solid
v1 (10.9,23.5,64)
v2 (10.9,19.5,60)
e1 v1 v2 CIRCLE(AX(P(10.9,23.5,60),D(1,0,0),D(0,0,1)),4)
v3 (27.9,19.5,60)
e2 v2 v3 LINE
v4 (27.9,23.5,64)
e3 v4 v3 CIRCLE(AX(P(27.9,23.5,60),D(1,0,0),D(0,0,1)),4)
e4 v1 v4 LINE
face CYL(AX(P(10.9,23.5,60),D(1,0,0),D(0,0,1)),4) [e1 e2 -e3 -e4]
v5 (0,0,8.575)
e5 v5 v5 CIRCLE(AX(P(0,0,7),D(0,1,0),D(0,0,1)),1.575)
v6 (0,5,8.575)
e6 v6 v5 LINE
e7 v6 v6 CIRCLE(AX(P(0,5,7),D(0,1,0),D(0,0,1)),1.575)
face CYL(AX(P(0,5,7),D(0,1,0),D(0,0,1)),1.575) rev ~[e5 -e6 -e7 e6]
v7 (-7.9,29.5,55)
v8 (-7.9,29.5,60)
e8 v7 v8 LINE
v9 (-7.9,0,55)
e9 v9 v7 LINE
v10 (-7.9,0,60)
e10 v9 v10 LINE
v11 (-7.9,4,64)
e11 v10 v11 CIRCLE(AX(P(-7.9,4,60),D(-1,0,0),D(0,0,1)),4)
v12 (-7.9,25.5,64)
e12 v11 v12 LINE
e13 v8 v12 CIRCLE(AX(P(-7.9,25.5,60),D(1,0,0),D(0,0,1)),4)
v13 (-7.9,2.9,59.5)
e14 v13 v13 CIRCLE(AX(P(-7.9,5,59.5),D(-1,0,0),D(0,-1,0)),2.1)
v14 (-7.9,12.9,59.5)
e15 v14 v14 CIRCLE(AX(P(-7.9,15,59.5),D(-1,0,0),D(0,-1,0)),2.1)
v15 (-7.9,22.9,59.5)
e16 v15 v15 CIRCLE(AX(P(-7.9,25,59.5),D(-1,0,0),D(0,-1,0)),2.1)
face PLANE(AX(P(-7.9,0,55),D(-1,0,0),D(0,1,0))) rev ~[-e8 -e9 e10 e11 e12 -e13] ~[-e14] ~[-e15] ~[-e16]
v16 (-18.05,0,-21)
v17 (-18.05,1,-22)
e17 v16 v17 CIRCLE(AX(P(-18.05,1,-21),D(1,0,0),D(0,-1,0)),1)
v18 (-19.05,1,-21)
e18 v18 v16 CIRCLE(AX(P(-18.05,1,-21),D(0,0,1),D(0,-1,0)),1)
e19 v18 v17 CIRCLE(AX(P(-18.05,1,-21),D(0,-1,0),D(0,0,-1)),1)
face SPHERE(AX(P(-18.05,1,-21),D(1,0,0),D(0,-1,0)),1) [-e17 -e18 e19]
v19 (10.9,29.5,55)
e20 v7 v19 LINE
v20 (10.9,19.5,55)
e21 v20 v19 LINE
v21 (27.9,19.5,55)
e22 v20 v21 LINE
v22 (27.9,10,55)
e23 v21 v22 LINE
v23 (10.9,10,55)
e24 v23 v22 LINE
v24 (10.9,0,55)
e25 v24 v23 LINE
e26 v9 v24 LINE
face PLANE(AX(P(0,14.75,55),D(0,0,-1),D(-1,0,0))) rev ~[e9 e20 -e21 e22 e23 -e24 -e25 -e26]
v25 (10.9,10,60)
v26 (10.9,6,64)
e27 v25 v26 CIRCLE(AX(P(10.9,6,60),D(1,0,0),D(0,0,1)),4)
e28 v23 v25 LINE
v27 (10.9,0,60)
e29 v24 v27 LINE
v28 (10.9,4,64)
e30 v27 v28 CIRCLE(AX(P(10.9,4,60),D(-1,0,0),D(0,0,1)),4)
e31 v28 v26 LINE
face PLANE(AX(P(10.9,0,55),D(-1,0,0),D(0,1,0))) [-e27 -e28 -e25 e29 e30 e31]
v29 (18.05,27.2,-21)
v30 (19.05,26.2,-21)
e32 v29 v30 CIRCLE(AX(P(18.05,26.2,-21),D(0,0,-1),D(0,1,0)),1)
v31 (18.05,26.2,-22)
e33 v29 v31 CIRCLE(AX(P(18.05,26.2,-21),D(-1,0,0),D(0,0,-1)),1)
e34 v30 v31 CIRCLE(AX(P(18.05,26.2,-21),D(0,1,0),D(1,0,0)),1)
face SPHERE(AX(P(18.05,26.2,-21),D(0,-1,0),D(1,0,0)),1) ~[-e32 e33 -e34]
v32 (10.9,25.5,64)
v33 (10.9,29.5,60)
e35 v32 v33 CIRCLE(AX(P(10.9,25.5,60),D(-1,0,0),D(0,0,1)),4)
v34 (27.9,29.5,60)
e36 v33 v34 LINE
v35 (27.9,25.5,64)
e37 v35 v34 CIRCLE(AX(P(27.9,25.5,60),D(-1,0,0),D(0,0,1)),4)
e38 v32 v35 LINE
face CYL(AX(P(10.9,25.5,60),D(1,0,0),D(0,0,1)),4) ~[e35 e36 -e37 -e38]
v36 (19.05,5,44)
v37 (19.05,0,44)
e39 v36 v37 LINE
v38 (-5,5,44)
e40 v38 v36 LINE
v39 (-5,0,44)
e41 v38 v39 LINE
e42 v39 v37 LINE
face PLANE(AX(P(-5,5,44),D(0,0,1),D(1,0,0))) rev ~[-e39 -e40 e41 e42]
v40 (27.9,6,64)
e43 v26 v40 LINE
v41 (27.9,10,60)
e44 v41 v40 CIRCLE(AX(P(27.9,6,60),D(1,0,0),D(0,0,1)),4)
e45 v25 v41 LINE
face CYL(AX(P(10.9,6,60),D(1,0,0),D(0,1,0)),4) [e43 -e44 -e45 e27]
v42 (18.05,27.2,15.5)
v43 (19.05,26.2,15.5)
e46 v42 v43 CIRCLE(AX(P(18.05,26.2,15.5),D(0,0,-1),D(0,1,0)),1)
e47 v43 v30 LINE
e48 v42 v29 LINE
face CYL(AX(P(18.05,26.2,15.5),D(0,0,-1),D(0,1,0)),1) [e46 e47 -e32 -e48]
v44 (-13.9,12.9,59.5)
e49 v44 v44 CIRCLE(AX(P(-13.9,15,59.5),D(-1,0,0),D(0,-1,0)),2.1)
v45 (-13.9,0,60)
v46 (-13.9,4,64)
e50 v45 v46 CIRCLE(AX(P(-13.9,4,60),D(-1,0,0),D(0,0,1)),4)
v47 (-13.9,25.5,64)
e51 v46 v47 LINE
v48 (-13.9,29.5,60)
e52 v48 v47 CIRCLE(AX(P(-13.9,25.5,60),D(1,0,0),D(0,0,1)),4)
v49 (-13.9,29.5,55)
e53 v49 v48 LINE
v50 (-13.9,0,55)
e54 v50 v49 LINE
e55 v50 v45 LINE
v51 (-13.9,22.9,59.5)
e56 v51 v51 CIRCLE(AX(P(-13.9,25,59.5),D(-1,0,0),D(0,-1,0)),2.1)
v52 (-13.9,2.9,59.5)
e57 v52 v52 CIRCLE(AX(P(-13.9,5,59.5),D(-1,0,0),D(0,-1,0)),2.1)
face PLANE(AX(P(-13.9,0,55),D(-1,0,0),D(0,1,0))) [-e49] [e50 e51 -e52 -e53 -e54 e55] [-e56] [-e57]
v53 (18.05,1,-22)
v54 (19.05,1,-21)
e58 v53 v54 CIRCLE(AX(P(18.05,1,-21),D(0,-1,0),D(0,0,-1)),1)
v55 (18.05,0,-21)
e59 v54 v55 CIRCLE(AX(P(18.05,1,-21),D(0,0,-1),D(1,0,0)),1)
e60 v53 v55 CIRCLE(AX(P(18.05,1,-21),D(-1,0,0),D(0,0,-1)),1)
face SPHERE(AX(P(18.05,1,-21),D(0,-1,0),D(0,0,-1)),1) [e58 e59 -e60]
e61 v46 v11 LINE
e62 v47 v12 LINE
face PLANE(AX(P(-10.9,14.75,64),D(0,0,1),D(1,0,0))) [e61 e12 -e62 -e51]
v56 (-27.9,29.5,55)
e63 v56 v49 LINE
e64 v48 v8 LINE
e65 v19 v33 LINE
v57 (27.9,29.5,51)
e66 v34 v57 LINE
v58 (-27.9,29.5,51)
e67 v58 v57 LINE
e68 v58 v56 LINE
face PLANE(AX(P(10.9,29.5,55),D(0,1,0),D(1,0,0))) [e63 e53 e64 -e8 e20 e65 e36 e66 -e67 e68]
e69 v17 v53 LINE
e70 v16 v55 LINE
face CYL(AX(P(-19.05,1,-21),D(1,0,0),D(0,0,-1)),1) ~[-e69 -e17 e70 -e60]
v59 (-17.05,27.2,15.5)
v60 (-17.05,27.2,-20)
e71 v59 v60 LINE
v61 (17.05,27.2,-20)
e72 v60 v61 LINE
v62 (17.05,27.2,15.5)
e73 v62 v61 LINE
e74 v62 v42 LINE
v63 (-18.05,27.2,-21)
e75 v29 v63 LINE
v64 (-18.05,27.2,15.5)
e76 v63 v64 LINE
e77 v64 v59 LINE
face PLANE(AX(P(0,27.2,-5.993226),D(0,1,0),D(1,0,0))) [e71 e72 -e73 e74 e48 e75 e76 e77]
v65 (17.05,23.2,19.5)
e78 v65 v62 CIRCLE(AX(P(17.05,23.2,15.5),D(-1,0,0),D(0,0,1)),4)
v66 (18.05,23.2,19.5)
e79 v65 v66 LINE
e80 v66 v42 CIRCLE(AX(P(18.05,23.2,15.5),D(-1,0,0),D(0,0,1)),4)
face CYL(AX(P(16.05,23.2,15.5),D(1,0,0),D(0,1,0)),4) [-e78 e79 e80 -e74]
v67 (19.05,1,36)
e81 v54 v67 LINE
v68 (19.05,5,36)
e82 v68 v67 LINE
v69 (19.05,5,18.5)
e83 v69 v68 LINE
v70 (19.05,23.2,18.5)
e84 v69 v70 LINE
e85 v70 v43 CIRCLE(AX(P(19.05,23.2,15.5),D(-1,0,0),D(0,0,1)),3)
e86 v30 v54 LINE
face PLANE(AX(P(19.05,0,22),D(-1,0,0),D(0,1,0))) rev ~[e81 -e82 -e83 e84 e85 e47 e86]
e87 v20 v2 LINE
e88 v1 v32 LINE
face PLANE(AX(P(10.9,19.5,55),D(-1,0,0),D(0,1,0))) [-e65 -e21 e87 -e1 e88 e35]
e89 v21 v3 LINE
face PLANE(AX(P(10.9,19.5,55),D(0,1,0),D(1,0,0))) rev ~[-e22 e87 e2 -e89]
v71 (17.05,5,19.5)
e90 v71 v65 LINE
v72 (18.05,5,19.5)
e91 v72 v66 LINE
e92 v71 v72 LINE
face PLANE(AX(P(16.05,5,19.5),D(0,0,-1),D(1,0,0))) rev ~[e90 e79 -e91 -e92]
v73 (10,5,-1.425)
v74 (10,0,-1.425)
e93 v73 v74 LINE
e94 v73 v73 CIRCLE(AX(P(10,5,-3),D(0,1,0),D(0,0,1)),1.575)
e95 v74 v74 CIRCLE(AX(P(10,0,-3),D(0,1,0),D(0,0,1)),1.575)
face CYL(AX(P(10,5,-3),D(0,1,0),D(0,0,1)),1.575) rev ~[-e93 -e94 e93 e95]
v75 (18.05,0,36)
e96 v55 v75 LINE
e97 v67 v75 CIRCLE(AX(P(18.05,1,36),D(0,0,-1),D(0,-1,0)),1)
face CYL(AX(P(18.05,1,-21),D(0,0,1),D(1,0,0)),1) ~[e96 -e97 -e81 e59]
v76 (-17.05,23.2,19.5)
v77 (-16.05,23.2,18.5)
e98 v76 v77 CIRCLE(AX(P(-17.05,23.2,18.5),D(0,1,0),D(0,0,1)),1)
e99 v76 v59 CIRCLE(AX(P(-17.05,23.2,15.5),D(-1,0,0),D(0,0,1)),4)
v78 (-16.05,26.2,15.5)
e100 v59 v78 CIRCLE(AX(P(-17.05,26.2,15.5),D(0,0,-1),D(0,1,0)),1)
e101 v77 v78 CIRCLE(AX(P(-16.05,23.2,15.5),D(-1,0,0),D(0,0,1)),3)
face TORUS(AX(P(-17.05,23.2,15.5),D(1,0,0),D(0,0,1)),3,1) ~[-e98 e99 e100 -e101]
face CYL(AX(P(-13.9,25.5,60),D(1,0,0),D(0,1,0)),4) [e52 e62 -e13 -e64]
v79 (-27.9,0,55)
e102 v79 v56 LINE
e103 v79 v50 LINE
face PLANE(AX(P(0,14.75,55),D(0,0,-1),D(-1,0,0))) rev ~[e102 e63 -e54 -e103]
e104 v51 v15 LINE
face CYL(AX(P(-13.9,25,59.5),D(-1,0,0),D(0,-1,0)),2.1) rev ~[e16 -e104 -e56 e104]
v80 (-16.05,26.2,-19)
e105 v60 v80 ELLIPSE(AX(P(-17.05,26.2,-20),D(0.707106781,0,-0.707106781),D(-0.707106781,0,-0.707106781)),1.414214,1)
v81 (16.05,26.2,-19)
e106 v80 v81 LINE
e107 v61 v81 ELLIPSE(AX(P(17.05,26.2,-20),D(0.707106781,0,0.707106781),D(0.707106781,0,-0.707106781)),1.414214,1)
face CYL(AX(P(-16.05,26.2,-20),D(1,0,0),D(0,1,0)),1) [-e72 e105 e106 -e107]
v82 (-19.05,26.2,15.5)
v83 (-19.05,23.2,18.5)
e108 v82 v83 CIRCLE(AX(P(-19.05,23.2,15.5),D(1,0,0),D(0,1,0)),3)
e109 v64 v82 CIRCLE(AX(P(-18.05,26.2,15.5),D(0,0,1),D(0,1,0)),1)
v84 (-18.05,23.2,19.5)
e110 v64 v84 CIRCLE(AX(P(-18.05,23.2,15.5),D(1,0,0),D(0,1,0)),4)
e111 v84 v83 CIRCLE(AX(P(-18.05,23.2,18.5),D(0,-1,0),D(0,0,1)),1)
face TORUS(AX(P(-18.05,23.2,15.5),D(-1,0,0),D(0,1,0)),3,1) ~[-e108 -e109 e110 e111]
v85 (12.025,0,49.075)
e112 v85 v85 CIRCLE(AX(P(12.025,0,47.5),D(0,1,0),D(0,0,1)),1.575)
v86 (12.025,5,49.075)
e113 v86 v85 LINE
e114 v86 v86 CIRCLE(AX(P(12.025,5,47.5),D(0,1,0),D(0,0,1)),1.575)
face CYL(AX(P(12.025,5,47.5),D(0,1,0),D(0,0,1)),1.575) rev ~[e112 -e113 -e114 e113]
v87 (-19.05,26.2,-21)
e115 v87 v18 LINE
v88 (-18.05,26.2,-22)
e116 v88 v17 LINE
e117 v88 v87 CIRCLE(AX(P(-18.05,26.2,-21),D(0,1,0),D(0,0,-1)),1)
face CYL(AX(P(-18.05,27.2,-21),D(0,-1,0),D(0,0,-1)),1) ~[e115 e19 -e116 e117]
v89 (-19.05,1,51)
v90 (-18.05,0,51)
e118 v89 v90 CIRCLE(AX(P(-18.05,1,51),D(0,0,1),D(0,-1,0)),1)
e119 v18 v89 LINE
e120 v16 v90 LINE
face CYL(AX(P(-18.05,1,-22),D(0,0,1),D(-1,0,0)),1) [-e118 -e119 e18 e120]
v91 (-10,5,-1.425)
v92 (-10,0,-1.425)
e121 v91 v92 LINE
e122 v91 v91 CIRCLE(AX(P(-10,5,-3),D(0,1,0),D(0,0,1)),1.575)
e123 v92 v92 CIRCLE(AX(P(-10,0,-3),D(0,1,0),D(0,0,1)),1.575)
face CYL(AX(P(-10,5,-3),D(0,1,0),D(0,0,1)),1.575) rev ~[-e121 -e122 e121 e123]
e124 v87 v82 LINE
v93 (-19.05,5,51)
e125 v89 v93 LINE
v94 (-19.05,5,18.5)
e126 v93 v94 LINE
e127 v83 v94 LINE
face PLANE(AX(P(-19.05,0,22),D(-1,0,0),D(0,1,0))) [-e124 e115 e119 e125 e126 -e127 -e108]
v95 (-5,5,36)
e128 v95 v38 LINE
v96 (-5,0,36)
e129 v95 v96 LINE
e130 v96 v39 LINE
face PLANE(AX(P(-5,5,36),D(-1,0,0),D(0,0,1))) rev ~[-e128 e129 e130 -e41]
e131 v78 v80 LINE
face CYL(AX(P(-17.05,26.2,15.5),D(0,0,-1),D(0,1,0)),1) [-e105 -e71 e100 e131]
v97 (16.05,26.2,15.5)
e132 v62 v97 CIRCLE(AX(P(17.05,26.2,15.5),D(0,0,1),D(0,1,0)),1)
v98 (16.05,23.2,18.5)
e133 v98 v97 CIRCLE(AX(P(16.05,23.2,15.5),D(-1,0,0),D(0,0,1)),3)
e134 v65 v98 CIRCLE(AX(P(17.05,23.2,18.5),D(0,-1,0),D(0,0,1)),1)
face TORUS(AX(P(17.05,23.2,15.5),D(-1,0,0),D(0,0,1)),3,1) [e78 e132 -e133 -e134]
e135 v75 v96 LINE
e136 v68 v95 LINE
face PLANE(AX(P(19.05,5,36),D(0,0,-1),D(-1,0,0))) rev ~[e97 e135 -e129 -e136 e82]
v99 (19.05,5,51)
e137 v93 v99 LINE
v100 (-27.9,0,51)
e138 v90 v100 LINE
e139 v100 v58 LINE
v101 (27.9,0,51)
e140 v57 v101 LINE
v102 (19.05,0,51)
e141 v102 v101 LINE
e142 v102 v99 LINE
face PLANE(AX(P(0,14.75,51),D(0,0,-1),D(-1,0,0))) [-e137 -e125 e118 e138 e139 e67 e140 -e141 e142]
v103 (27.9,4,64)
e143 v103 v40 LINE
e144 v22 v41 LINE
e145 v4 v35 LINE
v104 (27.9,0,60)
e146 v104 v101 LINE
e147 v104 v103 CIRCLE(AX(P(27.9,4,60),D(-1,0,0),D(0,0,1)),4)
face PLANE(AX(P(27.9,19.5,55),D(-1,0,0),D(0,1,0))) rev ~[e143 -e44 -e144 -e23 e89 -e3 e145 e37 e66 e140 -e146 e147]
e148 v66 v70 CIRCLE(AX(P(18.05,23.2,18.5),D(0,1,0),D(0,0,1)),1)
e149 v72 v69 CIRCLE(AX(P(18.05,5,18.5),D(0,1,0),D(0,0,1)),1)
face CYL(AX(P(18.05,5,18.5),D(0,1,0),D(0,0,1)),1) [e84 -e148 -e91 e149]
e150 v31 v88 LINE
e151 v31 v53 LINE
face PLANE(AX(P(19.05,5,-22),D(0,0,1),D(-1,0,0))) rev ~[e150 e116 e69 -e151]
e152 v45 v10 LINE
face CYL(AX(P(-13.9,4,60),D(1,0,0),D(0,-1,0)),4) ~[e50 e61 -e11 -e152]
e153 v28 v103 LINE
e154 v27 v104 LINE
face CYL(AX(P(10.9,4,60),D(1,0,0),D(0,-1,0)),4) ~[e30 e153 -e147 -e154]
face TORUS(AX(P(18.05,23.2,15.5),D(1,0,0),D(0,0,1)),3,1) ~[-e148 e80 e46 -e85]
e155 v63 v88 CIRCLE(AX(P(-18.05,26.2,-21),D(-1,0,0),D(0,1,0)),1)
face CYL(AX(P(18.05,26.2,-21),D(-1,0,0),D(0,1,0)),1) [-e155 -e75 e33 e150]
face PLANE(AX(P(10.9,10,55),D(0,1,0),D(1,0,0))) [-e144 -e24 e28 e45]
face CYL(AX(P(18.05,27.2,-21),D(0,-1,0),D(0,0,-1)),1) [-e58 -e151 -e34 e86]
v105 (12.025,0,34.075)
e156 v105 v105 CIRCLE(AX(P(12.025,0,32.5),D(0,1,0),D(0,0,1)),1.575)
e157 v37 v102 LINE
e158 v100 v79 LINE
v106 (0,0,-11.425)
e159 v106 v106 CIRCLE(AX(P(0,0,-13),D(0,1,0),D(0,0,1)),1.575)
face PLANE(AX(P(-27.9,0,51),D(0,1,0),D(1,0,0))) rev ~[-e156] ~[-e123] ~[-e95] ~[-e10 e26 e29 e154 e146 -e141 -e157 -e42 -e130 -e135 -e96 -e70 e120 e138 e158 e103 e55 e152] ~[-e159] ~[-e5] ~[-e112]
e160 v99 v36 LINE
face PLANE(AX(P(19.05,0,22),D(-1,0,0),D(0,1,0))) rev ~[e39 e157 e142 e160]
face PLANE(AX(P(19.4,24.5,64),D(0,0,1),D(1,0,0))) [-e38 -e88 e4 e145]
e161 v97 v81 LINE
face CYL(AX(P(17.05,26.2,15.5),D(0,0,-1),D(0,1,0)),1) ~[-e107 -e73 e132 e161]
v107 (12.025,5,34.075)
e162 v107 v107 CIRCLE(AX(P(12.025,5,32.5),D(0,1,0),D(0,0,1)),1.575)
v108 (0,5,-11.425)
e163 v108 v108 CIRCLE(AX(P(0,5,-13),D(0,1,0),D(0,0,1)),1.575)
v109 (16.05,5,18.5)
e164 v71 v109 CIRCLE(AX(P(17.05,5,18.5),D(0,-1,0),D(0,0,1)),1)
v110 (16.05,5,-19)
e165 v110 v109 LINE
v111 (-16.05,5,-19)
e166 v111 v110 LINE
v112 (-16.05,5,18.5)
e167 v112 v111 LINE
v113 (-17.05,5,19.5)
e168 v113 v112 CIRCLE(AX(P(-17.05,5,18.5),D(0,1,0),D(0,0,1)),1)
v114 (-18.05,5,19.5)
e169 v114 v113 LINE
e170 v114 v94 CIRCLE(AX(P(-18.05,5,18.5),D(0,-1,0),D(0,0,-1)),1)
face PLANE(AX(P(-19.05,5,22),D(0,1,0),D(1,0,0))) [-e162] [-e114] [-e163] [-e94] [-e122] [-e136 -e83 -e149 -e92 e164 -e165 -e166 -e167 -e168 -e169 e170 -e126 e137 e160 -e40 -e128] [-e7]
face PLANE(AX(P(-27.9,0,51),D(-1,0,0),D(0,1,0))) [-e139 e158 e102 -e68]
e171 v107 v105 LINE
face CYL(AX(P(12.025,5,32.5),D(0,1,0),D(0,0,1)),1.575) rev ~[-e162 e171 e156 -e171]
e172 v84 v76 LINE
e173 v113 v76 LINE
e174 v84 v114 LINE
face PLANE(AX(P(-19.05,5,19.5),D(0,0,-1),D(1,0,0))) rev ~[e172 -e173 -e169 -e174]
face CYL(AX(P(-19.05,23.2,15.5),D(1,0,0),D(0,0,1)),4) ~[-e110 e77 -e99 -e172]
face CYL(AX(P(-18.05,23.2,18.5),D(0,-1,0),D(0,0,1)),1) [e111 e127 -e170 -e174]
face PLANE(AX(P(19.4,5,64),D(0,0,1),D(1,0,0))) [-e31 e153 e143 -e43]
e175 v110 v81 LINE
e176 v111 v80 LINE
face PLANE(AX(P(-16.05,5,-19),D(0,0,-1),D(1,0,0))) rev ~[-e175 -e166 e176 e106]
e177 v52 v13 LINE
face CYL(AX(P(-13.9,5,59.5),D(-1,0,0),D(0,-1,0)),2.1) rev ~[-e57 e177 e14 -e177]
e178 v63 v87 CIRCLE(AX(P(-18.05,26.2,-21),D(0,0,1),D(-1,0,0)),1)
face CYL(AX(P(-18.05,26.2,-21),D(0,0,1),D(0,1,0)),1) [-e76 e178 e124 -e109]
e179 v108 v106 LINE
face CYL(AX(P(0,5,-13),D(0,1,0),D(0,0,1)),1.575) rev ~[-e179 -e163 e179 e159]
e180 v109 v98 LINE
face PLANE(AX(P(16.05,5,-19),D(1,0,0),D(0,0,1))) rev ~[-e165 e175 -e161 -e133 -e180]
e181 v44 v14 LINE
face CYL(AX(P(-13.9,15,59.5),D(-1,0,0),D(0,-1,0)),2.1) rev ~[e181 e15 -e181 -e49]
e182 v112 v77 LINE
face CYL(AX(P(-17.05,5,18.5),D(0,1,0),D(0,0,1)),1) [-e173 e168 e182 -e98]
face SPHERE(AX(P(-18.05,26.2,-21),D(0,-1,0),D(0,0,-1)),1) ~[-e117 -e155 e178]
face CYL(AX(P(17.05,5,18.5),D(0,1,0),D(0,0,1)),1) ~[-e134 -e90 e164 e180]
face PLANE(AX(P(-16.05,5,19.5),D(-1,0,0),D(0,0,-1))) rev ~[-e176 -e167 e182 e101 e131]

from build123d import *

# Parameters (mm, degrees)
SKETCH_1_W          = 38.1
SKETCH_1_H          = 44
SENSOR_BASE_DEPTH   = 5
PROTECTOR_DEPTH     = 22.2
SKETCH_4_R          = 1.575
CUT_EXTRUDE_1_DEPTH = 37.602493084
SKETCH_5_W          = 38.1
SKETCH_5_H          = 5
EXTRUDE_3_DEPTH     = 29
EXTRUDE_4_DEPTH     = 4
SKETCH_9_W          = 6
SKETCH_9_H          = 29.5
EXTRUDE_5_DEPTH     = 9
SKETCH_10_W         = 17
SKETCH_10_H         = 10
EXTRUDE_6_DEPTH     = 9
FILLET_2_R          = 4
FILLET_3_R          = 4
FILLET_4_R          = 4
FILLET_5_R          = 4
FILLET_6_R          = 4
CUT_EXTRUDE_6_REACH = 83.936
SKETCH_26_R         = 2.1
SKETCH_30_W         = 14.05
SKETCH_30_H         = 8
CUT_EXTRUDE_7_DEPTH = 5
CUT_EXTRUDE_8_REACH = 75.991
SKETCH_31_R         = 1.575
FILLET_7_R          = 1
FILLET_8_R          = 1
FILLET_9_R          = 1


with BuildPart() as part:
    # 草图1 → Sensor_base (new body)
    with BuildSketch(Plane(origin=(0, 0, 0), x_dir=(1, 0, 0), z_dir=(0, 1, 0))):
        Rectangle(SKETCH_1_W, SKETCH_1_H)
    extrude(amount=SENSOR_BASE_DEPTH)

    # 草图2 → Protector (add)
    with BuildSketch(Plane(origin=(0, 5, 0), x_dir=(1, 0, 0), z_dir=(0, 1, 0))):
        Polygon((-19.05, 22), (-19.05, -19.5), (-16.05, -19.5), (-16.05, 19), (16.05, 19), (16.05, -19.5), (19.05, -19.5), (19.05, 18), (19.05, 22), align=None)
    extrude(amount=PROTECTOR_DEPTH)

    # 草图4 → 切除-拉伸1 (cut, through all)
    with BuildSketch(Plane(origin=(0, 5, 0), x_dir=(1, 0, 0), z_dir=(0, 1, 0))):
        with Locations(Location((0, 13, 0), (0, 0, 270))):
            Circle(SKETCH_4_R)
        with Locations(Location((-10, 3, 0), (0, 0, 270))):
            Circle(SKETCH_4_R)
        with Locations(Location((10, 3, 0), (0, 0, 270))):
            Circle(SKETCH_4_R)
        with Locations(Location((0, -7, 0), (0, 0, 270))):
            Circle(SKETCH_4_R)
    extrude(amount=-CUT_EXTRUDE_1_DEPTH, mode=Mode.SUBTRACT)

    # 草图5 → 凸台-拉伸3 (add)
    with BuildSketch(Plane.XY.offset(22)):
        with Locations((0, 2.5)):
            Rectangle(SKETCH_5_W, SKETCH_5_H)
    extrude(amount=EXTRUDE_3_DEPTH)

    # 草图8 → 凸台-拉伸4 (add)
    with BuildSketch(Plane.XY.offset(51)):
        Polygon((0, 0), (-27.9, 0), (-27.9, 29.5), (27.9, 29.5), (27.9, 0), align=None)
    extrude(amount=EXTRUDE_4_DEPTH)

    # 草图9 → 凸台-拉伸5 (add)
    with BuildSketch(Plane.XY.offset(55)):
        with Locations((-10.9, 14.75)):
            Rectangle(SKETCH_9_W, SKETCH_9_H)
    extrude(amount=EXTRUDE_5_DEPTH)

    # 草图10 → 凸台-拉伸6 (add)
    with BuildSketch(Plane.XY.offset(55)):
        with Locations((19.4, 24.5)):
            Rectangle(SKETCH_10_W, SKETCH_10_H)
        with Locations((19.4, 5)):
            Rectangle(SKETCH_10_W, SKETCH_10_H)
    extrude(amount=EXTRUDE_6_DEPTH)

    # 圆角2
    fillet_2_edges = [part.edges().sort_by_distance(p)[0] for p in [
        (19.4, 29.5, 64),
    ]]
    fillet(fillet_2_edges, radius=FILLET_2_R)

    # 圆角3
    fillet_3_edges = [part.edges().sort_by_distance(p)[0] for p in [
        (19.4, 19.5, 64),
    ]]
    fillet(fillet_3_edges, radius=FILLET_3_R)

    # 圆角4
    fillet_4_edges = [part.edges().sort_by_distance(p)[0] for p in [
        (19.4, 0, 64),
        (19.4, 10, 64),
    ]]
    fillet(fillet_4_edges, radius=FILLET_4_R)

    # 圆角5
    fillet_5_edges = [part.edges().sort_by_distance(p)[0] for p in [
        (-10.9, 0, 64),
        (-10.9, 29.5, 64),
    ]]
    fillet(fillet_5_edges, radius=FILLET_5_R)

    # 圆角6
    fillet_6_edges = [part.edges().sort_by_distance(p)[0] for p in [
        (-17.55, 27.2, 19.5),
        (17.55, 27.2, 19.5),
    ]]
    fillet(fillet_6_edges, radius=FILLET_6_R)

    # 草图26 → 切除-拉伸6 (cut, up to next)
    with BuildSketch(Plane.ZY.offset(13.9), mode=Mode.PRIVATE) as cut_extrude_6_sk1:
        with Locations(Location((59.5, 5, 0), (0, 0, 270))):
            Circle(SKETCH_26_R)
    cut_extrude_6_tool1 = extrude(cut_extrude_6_sk1.sketch, amount=-CUT_EXTRUDE_6_REACH, mode=Mode.PRIVATE) & part.part
    # 草图26 → 切除-拉伸6 (cut, up to next)
    with BuildSketch(Plane.ZY.offset(13.9), mode=Mode.PRIVATE) as cut_extrude_6_sk2:
        with Locations(Location((59.5, 15, 0), (0, 0, 270))):
            Circle(SKETCH_26_R)
    cut_extrude_6_tool2 = extrude(cut_extrude_6_sk2.sketch, amount=-CUT_EXTRUDE_6_REACH, mode=Mode.PRIVATE) & part.part
    # 草图26 → 切除-拉伸6 (cut, up to next)
    with BuildSketch(Plane.ZY.offset(13.9), mode=Mode.PRIVATE) as cut_extrude_6_sk3:
        with Locations(Location((59.5, 25, 0), (0, 0, 270))):
            Circle(SKETCH_26_R)
    cut_extrude_6_tool3 = extrude(cut_extrude_6_sk3.sketch, amount=-CUT_EXTRUDE_6_REACH, mode=Mode.PRIVATE) & part.part
    add(cut_extrude_6_tool1.solids().sort_by_distance((-13.9, 5, 59.5))[0], mode=Mode.SUBTRACT)
    add(cut_extrude_6_tool2.solids().sort_by_distance((-13.9, 15, 59.5))[0], mode=Mode.SUBTRACT)
    add(cut_extrude_6_tool3.solids().sort_by_distance((-13.9, 25, 59.5))[0], mode=Mode.SUBTRACT)

    # 草图30 → 切除-拉伸7 (cut)
    with BuildSketch(Plane(origin=(0, 5, 0), x_dir=(1, 0, 0), z_dir=(0, 1, 0))):
        Polygon((0, -44), (5, -44), (5, -36), (-5, -36), (-5, -44), align=None)
        with Locations((12.025, -40)):
            Rectangle(SKETCH_30_W, SKETCH_30_H)
    extrude(amount=-CUT_EXTRUDE_7_DEPTH, mode=Mode.SUBTRACT)

    # 草图31 → 切除-拉伸8 (cut, up to next)
    with BuildSketch(Plane(origin=(0, 5, 0), x_dir=(1, 0, 0), z_dir=(0, 1, 0)), mode=Mode.PRIVATE) as cut_extrude_8_sk1:
        with Locations(Location((12.025, -32.5, 0), (0, 0, 270))):
            Circle(SKETCH_31_R)
    cut_extrude_8_tool1 = extrude(cut_extrude_8_sk1.sketch, amount=-CUT_EXTRUDE_8_REACH, mode=Mode.PRIVATE) & part.part
    # 草图31 → 切除-拉伸8 (cut, up to next)
    with BuildSketch(Plane(origin=(0, 5, 0), x_dir=(1, 0, 0), z_dir=(0, 1, 0)), mode=Mode.PRIVATE) as cut_extrude_8_sk2:
        with Locations(Location((12.025, -47.5, 0), (0, 0, 270))):
            Circle(SKETCH_31_R)
    cut_extrude_8_tool2 = extrude(cut_extrude_8_sk2.sketch, amount=-CUT_EXTRUDE_8_REACH, mode=Mode.PRIVATE) & part.part
    add(cut_extrude_8_tool1.solids().sort_by_distance((12.025, 5, 32.5))[0], mode=Mode.SUBTRACT)
    add(cut_extrude_8_tool2.solids().sort_by_distance((12.025, 5, 47.5))[0], mode=Mode.SUBTRACT)

    # 圆角7
    fillet_7_edges = [part.edges().sort_by_distance(p)[0] for p in [
        (19.05, 13.6, -22),
    ]]
    fillet(fillet_7_edges, radius=FILLET_7_R)

    # 圆角8
    fillet_8_edges = [part.edges().sort_by_distance(p)[0] for p in [
        (19.05, 0, 7.5),
        (-0.5, 0, -22),
        (18.757106781, 0, -21.707106781),
        (-19.05, 0, 14.5),
        (-19.05, 13.6, -22),
    ]]
    fillet(fillet_8_edges, radius=FILLET_8_R)

    # 圆角9
    fillet_9_edges = [part.edges().sort_by_distance(p)[0] for p in [
        (-16.05, 27.2, -1.75),
        (19.05, 27.2, -2.75),
        (-16.05, 14.1, 19.5),
        (-16.05, 26.028427125, 18.328427125),
        (-19.05, 14.1, 19.5),
        (-19.05, 26.028427125, 18.328427125),
        (19.05, 14.1, 19.5),
        (19.05, 26.028427125, 18.328427125),
        (16.05, 14.1, 19.5),
        (16.05, 26.028427125, 18.328427125),
        (0, 27.2, -19),
        (16.05, 27.2, -1.75),
        (0, 27.2, -22),
        (18.757106781, 27.2, -21.707106781),
        (-19.05, 27.2, -2.75),
        (-18.757106781, 27.2, -21.707106781),
    ]]
    fillet(fillet_9_edges, radius=FILLET_9_R)


solid = part.part
